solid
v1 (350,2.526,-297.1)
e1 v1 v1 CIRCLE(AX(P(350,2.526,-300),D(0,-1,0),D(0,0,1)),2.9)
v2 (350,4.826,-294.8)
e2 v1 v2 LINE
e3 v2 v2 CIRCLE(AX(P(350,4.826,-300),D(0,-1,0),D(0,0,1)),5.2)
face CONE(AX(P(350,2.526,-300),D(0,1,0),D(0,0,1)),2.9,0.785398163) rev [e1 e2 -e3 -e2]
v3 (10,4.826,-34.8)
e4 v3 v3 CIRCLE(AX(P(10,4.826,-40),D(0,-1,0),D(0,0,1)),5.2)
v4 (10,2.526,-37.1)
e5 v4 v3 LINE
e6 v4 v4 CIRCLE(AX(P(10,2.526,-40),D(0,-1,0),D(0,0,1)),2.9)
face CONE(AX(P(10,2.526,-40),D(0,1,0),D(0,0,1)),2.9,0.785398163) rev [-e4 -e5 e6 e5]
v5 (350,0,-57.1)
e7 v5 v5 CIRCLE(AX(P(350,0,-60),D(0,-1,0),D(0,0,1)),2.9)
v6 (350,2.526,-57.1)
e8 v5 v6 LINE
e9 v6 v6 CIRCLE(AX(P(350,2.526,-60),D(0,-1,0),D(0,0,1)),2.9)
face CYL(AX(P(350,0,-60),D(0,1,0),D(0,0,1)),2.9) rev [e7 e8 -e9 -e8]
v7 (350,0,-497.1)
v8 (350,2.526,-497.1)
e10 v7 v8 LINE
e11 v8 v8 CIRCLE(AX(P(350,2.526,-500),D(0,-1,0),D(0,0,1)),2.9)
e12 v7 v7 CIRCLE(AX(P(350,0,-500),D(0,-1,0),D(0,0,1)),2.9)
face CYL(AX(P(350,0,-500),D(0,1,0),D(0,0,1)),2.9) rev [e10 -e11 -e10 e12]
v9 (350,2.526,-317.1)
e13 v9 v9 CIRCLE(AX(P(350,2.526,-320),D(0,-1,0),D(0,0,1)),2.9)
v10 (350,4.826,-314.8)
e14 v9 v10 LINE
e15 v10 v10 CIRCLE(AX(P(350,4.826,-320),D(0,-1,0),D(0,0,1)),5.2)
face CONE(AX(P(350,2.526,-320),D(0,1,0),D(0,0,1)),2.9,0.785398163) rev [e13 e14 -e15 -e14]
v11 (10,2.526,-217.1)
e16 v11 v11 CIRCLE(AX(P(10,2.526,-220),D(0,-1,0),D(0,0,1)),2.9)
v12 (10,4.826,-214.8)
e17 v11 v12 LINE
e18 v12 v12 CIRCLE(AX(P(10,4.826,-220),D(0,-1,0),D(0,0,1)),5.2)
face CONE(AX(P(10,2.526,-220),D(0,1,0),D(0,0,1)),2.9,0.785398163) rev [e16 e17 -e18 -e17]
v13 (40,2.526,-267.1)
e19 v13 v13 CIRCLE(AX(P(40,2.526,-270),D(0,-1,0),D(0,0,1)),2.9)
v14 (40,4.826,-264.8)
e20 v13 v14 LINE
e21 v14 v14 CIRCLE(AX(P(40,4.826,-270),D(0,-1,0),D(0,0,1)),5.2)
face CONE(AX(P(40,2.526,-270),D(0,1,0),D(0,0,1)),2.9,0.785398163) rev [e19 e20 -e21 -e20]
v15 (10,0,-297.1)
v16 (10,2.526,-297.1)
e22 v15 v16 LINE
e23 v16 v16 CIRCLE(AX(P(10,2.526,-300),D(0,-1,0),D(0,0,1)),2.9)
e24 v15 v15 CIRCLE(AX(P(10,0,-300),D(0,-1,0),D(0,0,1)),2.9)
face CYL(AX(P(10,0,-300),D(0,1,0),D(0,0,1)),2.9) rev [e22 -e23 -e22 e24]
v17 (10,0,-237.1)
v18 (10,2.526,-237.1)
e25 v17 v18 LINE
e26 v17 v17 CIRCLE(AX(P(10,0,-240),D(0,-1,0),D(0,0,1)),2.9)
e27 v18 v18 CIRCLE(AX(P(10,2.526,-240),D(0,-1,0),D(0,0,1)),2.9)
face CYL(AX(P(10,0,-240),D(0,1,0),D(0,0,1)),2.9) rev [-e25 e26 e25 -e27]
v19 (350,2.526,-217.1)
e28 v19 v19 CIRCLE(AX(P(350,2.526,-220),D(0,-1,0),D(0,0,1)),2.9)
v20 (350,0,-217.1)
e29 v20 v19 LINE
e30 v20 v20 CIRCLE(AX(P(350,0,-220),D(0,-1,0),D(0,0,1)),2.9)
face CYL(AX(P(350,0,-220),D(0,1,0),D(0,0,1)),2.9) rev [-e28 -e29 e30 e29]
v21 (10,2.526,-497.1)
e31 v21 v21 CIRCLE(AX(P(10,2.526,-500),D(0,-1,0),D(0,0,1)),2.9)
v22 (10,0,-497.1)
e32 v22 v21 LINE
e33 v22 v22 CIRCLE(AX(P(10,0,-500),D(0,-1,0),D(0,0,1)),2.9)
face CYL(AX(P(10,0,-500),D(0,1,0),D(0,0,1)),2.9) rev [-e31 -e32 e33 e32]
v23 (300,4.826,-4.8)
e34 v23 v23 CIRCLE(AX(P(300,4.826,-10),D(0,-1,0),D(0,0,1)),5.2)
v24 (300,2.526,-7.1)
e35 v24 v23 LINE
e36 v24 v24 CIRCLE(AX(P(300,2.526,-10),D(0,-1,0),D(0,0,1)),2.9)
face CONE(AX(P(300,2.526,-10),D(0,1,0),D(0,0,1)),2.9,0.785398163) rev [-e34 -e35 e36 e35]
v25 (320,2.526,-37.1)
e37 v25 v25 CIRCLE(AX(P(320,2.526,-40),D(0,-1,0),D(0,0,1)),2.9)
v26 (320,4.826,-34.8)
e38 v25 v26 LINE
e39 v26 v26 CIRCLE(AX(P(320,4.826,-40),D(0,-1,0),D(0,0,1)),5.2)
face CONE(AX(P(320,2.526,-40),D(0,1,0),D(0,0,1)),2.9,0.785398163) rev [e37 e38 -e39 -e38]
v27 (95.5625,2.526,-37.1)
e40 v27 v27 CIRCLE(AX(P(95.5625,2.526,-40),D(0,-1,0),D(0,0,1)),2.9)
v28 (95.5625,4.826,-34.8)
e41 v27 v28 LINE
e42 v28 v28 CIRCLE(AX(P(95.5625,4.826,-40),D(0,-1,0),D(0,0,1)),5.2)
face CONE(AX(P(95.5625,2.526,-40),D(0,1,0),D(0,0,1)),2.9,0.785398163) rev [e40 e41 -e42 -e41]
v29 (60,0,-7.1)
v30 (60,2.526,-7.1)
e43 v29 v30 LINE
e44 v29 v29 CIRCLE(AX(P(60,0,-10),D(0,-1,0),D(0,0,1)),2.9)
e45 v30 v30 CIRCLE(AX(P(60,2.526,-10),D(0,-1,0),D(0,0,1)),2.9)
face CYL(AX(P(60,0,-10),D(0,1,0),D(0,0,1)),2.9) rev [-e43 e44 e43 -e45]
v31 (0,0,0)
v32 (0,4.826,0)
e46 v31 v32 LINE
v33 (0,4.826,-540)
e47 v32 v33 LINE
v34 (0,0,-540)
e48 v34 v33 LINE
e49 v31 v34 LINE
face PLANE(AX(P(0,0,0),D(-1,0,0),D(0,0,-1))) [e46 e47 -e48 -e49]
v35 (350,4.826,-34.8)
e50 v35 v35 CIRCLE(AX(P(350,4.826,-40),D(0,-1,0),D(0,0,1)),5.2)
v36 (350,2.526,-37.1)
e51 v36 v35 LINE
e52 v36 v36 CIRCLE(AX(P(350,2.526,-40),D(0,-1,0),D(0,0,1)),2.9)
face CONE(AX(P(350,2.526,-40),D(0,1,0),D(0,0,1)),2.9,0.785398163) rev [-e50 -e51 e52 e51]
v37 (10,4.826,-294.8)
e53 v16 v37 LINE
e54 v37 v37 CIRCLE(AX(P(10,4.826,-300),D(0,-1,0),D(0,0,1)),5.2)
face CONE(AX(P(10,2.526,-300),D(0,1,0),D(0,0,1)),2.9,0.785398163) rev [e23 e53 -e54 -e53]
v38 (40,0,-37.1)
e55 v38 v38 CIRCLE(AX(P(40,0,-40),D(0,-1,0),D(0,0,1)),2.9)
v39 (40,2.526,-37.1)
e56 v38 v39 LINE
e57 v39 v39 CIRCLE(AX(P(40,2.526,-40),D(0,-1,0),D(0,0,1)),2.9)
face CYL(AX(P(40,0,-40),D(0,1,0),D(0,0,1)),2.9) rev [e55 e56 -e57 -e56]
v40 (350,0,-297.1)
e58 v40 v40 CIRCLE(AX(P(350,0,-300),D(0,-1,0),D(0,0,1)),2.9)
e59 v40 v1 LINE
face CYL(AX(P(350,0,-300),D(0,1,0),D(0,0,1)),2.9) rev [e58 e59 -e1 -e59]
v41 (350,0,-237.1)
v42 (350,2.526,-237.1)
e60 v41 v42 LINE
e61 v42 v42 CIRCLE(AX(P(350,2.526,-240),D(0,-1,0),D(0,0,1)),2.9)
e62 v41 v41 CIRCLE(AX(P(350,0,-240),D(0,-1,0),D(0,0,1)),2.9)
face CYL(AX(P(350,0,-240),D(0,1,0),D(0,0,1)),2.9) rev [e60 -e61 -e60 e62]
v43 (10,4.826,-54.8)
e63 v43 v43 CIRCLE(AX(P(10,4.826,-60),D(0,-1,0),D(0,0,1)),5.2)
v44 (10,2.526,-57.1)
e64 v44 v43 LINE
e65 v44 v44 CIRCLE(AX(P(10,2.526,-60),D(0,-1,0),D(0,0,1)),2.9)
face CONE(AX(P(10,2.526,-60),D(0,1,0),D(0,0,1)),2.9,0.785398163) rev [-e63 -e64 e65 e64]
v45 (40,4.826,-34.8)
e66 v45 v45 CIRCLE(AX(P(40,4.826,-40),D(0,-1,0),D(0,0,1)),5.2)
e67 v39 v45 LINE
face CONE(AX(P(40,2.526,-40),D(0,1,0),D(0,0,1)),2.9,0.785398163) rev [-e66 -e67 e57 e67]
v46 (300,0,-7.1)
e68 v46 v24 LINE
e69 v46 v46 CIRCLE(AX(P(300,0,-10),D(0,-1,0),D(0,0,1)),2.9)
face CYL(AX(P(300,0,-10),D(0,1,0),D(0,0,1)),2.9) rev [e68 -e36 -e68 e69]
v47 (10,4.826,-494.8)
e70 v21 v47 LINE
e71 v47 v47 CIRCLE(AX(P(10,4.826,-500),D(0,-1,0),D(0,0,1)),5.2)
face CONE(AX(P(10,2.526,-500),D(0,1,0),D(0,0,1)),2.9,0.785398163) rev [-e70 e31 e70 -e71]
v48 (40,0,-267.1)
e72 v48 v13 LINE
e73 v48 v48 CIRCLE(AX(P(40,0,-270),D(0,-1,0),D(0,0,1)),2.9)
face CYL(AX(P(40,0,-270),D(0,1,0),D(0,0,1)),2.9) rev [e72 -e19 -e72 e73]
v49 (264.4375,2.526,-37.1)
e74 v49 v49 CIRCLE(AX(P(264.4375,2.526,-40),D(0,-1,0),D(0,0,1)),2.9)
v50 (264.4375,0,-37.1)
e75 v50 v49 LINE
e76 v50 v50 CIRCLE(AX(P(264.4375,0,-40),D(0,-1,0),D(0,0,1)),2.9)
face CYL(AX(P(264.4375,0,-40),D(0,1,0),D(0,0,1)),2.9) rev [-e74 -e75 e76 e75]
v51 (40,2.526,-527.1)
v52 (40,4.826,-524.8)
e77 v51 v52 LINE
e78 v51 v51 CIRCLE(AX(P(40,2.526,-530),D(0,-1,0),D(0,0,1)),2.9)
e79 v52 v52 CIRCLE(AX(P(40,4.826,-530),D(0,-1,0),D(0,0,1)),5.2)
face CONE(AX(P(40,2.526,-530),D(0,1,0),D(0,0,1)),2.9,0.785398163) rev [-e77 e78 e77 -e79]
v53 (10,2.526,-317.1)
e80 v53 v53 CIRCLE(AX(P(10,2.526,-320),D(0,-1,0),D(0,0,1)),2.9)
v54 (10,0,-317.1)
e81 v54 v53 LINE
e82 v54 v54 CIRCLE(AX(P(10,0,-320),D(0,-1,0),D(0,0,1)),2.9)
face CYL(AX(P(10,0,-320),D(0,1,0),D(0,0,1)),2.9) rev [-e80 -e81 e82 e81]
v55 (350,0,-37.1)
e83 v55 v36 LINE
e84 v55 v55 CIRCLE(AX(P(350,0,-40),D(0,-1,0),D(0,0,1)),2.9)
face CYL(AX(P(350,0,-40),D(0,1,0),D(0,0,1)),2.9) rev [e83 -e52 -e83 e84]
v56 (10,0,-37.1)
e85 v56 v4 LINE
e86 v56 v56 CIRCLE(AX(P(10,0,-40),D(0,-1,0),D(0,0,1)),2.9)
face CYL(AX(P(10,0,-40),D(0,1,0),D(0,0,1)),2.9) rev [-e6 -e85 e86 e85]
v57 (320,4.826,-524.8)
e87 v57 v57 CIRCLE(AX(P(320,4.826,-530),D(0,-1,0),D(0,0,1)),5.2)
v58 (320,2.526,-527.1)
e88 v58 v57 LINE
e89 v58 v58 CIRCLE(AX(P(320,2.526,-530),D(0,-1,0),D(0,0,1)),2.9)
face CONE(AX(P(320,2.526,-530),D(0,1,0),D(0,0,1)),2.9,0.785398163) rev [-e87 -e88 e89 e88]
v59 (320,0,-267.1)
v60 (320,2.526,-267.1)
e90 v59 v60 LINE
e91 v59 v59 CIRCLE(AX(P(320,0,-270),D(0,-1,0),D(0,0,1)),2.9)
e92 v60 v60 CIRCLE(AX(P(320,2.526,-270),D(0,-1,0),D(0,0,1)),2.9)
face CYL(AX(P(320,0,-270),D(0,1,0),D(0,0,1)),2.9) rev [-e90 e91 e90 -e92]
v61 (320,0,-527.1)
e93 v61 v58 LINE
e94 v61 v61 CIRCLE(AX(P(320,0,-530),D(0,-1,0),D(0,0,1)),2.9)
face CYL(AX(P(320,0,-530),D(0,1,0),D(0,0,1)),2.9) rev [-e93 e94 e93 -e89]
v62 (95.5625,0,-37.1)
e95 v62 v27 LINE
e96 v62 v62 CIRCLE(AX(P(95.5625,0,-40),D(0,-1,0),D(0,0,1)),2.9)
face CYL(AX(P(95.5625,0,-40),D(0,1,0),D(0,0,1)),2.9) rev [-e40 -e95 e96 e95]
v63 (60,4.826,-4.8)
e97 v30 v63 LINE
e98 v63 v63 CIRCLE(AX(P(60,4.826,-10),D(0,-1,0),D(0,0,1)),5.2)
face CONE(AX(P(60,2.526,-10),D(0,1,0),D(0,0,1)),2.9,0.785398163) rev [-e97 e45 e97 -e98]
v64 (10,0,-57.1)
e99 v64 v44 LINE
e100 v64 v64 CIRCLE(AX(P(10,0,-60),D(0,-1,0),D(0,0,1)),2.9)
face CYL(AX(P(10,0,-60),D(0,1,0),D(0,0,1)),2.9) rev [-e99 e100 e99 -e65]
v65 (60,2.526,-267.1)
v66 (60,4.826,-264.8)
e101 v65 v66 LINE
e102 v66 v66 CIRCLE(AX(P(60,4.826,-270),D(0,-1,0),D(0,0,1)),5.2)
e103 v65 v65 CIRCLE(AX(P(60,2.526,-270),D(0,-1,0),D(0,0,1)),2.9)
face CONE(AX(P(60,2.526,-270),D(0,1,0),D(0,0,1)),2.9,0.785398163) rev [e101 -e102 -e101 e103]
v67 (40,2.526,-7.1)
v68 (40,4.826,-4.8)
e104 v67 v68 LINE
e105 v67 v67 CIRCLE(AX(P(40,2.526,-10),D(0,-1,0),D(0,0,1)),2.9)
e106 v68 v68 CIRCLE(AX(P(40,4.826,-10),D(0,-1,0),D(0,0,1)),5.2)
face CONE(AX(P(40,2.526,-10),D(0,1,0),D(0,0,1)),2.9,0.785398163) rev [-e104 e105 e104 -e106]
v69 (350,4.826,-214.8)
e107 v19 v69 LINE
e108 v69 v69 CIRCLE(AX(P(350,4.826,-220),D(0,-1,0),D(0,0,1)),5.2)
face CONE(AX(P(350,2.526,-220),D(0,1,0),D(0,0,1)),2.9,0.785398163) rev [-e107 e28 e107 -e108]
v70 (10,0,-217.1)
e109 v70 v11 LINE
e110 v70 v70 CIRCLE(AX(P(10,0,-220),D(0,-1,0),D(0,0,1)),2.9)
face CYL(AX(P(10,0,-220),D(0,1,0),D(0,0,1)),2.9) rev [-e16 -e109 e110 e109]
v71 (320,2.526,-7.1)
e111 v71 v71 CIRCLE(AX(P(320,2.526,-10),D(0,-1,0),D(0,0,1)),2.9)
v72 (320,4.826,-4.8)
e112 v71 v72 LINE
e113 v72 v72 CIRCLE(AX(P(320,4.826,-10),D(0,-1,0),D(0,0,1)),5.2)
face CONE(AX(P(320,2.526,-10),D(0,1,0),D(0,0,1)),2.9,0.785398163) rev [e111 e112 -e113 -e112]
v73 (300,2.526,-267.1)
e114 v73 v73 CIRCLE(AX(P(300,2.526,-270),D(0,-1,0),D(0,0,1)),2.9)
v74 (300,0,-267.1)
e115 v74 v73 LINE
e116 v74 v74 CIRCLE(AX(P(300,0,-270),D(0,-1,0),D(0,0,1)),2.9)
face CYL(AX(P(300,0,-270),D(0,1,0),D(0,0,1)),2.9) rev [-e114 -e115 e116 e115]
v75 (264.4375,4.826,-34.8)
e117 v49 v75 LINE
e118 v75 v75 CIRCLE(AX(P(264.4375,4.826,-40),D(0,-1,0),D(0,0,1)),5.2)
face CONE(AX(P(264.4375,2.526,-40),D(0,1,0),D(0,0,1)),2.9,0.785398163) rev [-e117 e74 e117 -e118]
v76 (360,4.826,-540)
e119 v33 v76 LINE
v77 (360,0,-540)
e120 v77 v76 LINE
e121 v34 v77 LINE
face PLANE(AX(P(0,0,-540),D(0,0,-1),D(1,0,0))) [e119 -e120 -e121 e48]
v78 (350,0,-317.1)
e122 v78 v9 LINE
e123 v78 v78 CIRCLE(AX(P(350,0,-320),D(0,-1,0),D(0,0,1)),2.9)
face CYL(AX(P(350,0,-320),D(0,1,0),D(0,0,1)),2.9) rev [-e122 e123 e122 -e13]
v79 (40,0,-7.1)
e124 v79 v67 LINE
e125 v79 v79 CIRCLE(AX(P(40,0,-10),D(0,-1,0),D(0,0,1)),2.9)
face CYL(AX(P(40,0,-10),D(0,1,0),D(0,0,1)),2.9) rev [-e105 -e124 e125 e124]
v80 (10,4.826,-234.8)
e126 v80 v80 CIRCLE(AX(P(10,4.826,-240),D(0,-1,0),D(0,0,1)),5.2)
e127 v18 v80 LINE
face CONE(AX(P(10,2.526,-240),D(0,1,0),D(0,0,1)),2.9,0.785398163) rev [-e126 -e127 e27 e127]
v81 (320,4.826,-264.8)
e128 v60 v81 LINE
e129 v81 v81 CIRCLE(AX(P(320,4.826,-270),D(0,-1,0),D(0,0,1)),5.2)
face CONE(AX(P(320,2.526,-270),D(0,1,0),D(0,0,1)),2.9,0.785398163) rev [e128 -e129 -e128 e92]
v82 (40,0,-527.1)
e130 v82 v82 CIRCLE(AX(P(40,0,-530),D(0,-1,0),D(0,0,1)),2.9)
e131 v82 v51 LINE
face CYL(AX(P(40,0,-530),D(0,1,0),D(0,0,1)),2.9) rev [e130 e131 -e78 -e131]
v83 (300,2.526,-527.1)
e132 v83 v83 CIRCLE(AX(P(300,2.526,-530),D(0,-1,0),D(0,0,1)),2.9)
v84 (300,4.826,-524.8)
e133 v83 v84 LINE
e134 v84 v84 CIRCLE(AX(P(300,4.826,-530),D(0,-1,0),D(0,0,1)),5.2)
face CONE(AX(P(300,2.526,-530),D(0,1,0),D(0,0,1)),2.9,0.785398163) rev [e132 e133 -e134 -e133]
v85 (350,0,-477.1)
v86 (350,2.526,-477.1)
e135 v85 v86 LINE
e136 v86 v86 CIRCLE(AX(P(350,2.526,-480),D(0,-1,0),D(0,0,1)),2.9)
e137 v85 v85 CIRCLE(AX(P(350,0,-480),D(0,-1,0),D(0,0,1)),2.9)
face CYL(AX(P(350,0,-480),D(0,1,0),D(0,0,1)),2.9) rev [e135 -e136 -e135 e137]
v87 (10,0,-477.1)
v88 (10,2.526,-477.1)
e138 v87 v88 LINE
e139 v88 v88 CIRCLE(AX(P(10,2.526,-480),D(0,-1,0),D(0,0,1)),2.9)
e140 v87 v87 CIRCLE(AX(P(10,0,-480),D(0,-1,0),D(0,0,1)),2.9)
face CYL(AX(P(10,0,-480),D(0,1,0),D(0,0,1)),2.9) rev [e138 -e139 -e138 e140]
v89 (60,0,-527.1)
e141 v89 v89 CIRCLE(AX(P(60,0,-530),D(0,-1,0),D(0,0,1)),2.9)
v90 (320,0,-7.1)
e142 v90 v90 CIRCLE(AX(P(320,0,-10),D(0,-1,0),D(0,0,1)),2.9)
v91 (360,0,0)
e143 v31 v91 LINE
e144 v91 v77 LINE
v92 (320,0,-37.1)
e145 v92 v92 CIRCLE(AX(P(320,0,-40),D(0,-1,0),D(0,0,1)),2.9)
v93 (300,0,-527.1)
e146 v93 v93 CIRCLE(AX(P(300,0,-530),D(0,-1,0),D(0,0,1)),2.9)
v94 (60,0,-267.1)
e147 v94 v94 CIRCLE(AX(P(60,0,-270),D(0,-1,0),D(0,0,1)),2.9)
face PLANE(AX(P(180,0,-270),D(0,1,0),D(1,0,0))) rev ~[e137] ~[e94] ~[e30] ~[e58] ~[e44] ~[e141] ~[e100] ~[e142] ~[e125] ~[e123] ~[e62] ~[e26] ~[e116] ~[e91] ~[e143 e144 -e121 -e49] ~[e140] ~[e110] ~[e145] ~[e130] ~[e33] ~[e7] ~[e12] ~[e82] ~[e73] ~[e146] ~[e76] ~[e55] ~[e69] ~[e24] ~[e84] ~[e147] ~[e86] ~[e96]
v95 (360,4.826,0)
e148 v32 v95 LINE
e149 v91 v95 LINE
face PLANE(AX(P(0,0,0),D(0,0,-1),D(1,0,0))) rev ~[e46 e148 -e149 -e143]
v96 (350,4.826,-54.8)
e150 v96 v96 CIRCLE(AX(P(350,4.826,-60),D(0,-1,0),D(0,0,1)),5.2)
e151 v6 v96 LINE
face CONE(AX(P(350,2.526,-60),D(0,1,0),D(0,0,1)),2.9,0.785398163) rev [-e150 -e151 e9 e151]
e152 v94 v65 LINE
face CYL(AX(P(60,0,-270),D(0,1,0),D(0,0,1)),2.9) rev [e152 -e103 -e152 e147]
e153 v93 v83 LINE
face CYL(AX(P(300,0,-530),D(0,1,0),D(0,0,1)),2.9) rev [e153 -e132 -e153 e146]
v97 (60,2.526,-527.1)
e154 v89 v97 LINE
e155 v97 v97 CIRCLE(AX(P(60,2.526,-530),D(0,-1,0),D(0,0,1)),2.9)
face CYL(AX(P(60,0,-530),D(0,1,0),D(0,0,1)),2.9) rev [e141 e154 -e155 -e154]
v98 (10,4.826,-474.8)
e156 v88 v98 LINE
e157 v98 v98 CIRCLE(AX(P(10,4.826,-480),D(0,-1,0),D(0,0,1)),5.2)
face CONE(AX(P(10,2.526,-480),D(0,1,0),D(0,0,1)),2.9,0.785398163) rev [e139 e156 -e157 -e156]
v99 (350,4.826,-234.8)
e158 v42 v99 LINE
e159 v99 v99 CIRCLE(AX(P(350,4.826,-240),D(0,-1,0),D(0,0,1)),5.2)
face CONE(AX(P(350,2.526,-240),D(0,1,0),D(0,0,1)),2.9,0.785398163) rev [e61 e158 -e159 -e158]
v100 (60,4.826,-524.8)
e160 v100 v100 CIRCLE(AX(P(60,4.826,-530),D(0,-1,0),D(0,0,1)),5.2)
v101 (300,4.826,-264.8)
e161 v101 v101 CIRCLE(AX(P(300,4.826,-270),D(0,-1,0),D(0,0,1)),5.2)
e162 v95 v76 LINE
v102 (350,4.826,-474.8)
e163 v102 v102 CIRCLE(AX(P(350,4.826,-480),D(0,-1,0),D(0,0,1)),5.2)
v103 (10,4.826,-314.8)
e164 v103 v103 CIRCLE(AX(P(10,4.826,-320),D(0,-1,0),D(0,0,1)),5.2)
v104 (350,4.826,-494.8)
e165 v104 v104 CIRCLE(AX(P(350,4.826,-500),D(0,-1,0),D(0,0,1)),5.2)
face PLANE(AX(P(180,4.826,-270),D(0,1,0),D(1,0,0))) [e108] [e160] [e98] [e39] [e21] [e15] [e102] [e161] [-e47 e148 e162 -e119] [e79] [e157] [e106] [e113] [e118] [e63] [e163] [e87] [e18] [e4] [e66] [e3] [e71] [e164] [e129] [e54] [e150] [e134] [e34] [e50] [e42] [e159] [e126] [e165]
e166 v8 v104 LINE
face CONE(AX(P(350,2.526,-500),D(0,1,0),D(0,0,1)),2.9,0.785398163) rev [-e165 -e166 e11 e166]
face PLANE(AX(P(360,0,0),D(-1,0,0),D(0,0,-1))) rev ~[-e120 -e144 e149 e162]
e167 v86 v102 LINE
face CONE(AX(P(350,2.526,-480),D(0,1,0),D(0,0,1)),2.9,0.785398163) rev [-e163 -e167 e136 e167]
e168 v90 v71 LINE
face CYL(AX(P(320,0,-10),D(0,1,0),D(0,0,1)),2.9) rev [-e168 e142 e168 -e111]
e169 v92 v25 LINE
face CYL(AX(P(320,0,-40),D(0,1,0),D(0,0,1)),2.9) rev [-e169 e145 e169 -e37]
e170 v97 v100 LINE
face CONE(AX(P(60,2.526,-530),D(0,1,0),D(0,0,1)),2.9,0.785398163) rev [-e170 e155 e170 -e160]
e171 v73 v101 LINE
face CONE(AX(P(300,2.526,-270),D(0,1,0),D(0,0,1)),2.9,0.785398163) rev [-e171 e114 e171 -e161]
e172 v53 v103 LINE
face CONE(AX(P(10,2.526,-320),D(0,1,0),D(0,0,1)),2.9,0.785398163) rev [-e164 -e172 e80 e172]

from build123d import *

# Parameters (mm, degrees)
SKETCH1_W                                      = 360
SKETCH1_H                                      = 540
BOSS_EXTRUDE1_DEPTH                            = 4.826
CSK_FOR_M5_FLAT_HEAD_MACHINE_SCREW1_AT_2_COUNT = 2
CSK_FOR_M5_FLAT_HEAD_MACHINE_SCREW1_AT_2_PITCH = 55.5625
CSK_FOR_M5_FLAT_HEAD_MACHINE_SCREW1_AT_3_COUNT = 2
CSK_FOR_M5_FLAT_HEAD_MACHINE_SCREW1_AT_3_PITCH = 224.4375
CSK_FOR_M5_FLAT_HEAD_MACHINE_SCREW1_AT_4_COUNT = 2
CSK_FOR_M5_FLAT_HEAD_MACHINE_SCREW1_AT_4_PITCH = 280
CSK_FOR_M5_FLAT_HEAD_MACHINE_SCREW2_AT_2_COUNT = 2
CSK_FOR_M5_FLAT_HEAD_MACHINE_SCREW2_AT_2_PITCH = 42.426406871
CSK_FOR_M5_FLAT_HEAD_MACHINE_SCREW2_AT_3_COUNT = 2
CSK_FOR_M5_FLAT_HEAD_MACHINE_SCREW2_AT_3_PITCH = 280
CSK_FOR_M5_FLAT_HEAD_MACHINE_SCREW2_AT_4_COUNT = 2
CSK_FOR_M5_FLAT_HEAD_MACHINE_SCREW2_AT_4_PITCH = 311.448230048
CSK_FOR_M5_FLAT_HEAD_MACHINE_SCREW2_AT_5_COUNT = 2
CSK_FOR_M5_FLAT_HEAD_MACHINE_SCREW2_AT_5_PITCH = 231.948270095
CSK_FOR_M5_FLAT_HEAD_MACHINE_SCREW2_AT_6_COUNT = 2
CSK_FOR_M5_FLAT_HEAD_MACHINE_SCREW2_AT_6_PITCH = 260
CSK_FOR_M5_FLAT_HEAD_MACHINE_SCREW2_AT_7_COUNT = 2
CSK_FOR_M5_FLAT_HEAD_MACHINE_SCREW2_AT_7_PITCH = 291.547594742
CSK_FOR_M5_FLAT_HEAD_MACHINE_SCREW2_AT_8_COUNT = 2
CSK_FOR_M5_FLAT_HEAD_MACHINE_SCREW2_AT_8_PITCH = 386.005181312
CSK_FOR_M5_FLAT_HEAD_MACHINE_SCREW2_AT_9_COUNT = 2
CSK_FOR_M5_FLAT_HEAD_MACHINE_SCREW2_AT_9_PITCH = 382.099463491
CSK_FOR_M5_FLAT_HEAD_MACHINE_SCREW2_AT_1_COUNT = 2
CSK_FOR_M5_FLAT_HEAD_MACHINE_SCREW2_AT_1_PITCH = 424.499705536
CSK_FOR_M5_FLAT_HEAD_MACHINE_SCREW2_2_COUNT    = 2
CSK_FOR_M5_FLAT_HEAD_MACHINE_SCREW2_2_PITCH    = 490.917508345
CSK_FOR_M5_FLAT_HEAD_MACHINE_SCREW2_3_COUNT    = 2
CSK_FOR_M5_FLAT_HEAD_MACHINE_SCREW2_3_PITCH    = 520
CSK_FOR_M5_FLAT_HEAD_MACHINE_SCREW2_4_COUNT    = 2
CSK_FOR_M5_FLAT_HEAD_MACHINE_SCREW2_4_PITCH    = 590.592922409
CSK_FOR_M5_FLAT_HEAD_MACHINE_SCREW2_5_COUNT    = 2
CSK_FOR_M5_FLAT_HEAD_MACHINE_SCREW2_5_PITCH    = 579.827560573
CSK_FOR_M5_FLAT_HEAD_MACHINE_SCREW2_6_COUNT    = 2
CSK_FOR_M5_FLAT_HEAD_MACHINE_SCREW2_6_PITCH    = 470.956473573
CSK_FOR_M5_FLAT_HEAD_MACHINE_SCREW2_7_COUNT    = 2
CSK_FOR_M5_FLAT_HEAD_MACHINE_SCREW2_7_PITCH    = 520.38447325
CSK_FOR_M5_FLAT_HEAD_MACHINE_SCREW2_8_COUNT    = 2
CSK_FOR_M5_FLAT_HEAD_MACHINE_SCREW2_8_PITCH    = 581.37767415
CSK_FOR_M5_FLAT_HEAD_MACHINE_SCREW2_9_COUNT    = 2
CSK_FOR_M5_FLAT_HEAD_MACHINE_SCREW2_9_PITCH    = 563.02753041
CSK_FOR_M5_FLAT_HEAD_MACHINE_SCREW2_10_COUNT   = 2
CSK_FOR_M5_FLAT_HEAD_MACHINE_SCREW2_10_PITCH   = 438.406204336
CSK_FOR_M5_FLAT_HEAD_MACHINE_SCREW2_11_COUNT   = 2
CSK_FOR_M5_FLAT_HEAD_MACHINE_SCREW2_11_PITCH   = 367.695526217
CSK_FOR_M5_FLAT_HEAD_MACHINE_SCREW2_12_COUNT   = 2
CSK_FOR_M5_FLAT_HEAD_MACHINE_SCREW2_12_PITCH   = 374.432904537
CSK_FOR_M5_FLAT_HEAD_MACHINE_SCREW2_13_COUNT   = 2
CSK_FOR_M5_FLAT_HEAD_MACHINE_SCREW2_13_PITCH   = 212.132034356
CSK_FOR_M5_FLAT_HEAD_MACHINE_SCREW2_14_COUNT   = 2
CSK_FOR_M5_FLAT_HEAD_MACHINE_SCREW2_14_PITCH   = 260.768096208
CSK_FOR_M5_FLAT_HEAD_MACHINE_SCREW2_15_COUNT   = 2
CSK_FOR_M5_FLAT_HEAD_MACHINE_SCREW2_15_PITCH   = 311.448230048
CSK_FOR_M5_FLAT_HEAD_MACHINE_SCREW2_16_COUNT   = 2
CSK_FOR_M5_FLAT_HEAD_MACHINE_SCREW2_16_PITCH   = 58.309518948
CSK_FOR_M5_FLAT_HEAD_MACHINE_SCREW2_17_COUNT   = 2
CSK_FOR_M5_FLAT_HEAD_MACHINE_SCREW2_17_PITCH   = 20
CSK_FOR_M5_FLAT_HEAD_MACHINE_SCREW2_18_COUNT   = 2
CSK_FOR_M5_FLAT_HEAD_MACHINE_SCREW2_18_PITCH   = 260
CSK_FOR_M5_FLAT_HEAD_MACHINE_SCREW2_19_COUNT   = 2
CSK_FOR_M5_FLAT_HEAD_MACHINE_SCREW2_19_PITCH   = 314.006369362


with BuildPart() as part:
    # Sketch1 → Boss-Extrude1 (new body)
    with BuildSketch(Plane(origin=(0, 0, 0), x_dir=(1, 0, 0), z_dir=(0, 1, 0))):
        with Locations((180, 270)):
            Rectangle(SKETCH1_W, SKETCH1_H)
    extrude(amount=BOSS_EXTRUDE1_DEPTH)

    # Sketch16 → CSK for M5 Flat Head Machine Screw1 (revolve, cut)
    with BuildSketch(Plane(origin=(40, 4.826, -40), x_dir=(0, 0, 1), z_dir=(1, 0, 0))):
        Polygon((0, 0), (0, 4.826), (2.9, 4.826), (2.9, 2.3), (5.2, 0), align=None)
    csk_for_m5_flat_head_machine_screw1 = revolve(axis=Axis((40, 11.176, -40), (0, -1, 0)), mode=Mode.SUBTRACT)

    # CSK for M5 Flat Head Machine Screw1 at 2: CSK for M5 Flat Head Machine Screw1 ×2
    with Locations(*[(i * CSK_FOR_M5_FLAT_HEAD_MACHINE_SCREW1_AT_2_PITCH, 0, 0) for i in range(1, CSK_FOR_M5_FLAT_HEAD_MACHINE_SCREW1_AT_2_COUNT)]):
        add(csk_for_m5_flat_head_machine_screw1, mode=Mode.SUBTRACT)

    # CSK for M5 Flat Head Machine Screw1 at 3: CSK for M5 Flat Head Machine Screw1 ×2
    with Locations(*[(i * CSK_FOR_M5_FLAT_HEAD_MACHINE_SCREW1_AT_3_PITCH, 0, 0) for i in range(1, CSK_FOR_M5_FLAT_HEAD_MACHINE_SCREW1_AT_3_COUNT)]):
        add(csk_for_m5_flat_head_machine_screw1, mode=Mode.SUBTRACT)

    # CSK for M5 Flat Head Machine Screw1 at 4: CSK for M5 Flat Head Machine Screw1 ×2
    with Locations(*[(i * CSK_FOR_M5_FLAT_HEAD_MACHINE_SCREW1_AT_4_PITCH, 0, 0) for i in range(1, CSK_FOR_M5_FLAT_HEAD_MACHINE_SCREW1_AT_4_COUNT)]):
        add(csk_for_m5_flat_head_machine_screw1, mode=Mode.SUBTRACT)

    # Sketch20 → CSK for M5 Flat Head Machine Screw2 (revolve, cut)
    with BuildSketch(Plane(origin=(40, 4.826, -10), x_dir=(0, 0, 1), z_dir=(1, 0, 0))):
        Polygon((0, 0), (0, 4.826), (2.9, 4.826), (2.9, 2.3), (5.2, 0), align=None)
    csk_for_m5_flat_head_machine_screw2 = revolve(axis=Axis((40, 11.176, -10), (0, -1, 0)), mode=Mode.SUBTRACT)

    # CSK for M5 Flat Head Machine Screw2 at 2: CSK for M5 Flat Head Machine Screw2 ×2
    with Locations(*[Vector(-0.7071067811865477, 0, -0.7071067811865475) * (i * CSK_FOR_M5_FLAT_HEAD_MACHINE_SCREW2_AT_2_PITCH) for i in range(1, CSK_FOR_M5_FLAT_HEAD_MACHINE_SCREW2_AT_2_COUNT)]):
        add(csk_for_m5_flat_head_machine_screw2, mode=Mode.SUBTRACT)

    # CSK for M5 Flat Head Machine Screw2 at 3: CSK for M5 Flat Head Machine Screw2 ×2
    with Locations(*[(i * CSK_FOR_M5_FLAT_HEAD_MACHINE_SCREW2_AT_3_PITCH, 0, 0) for i in range(1, CSK_FOR_M5_FLAT_HEAD_MACHINE_SCREW2_AT_3_COUNT)]):
        add(csk_for_m5_flat_head_machine_screw2, mode=Mode.SUBTRACT)

    # CSK for M5 Flat Head Machine Screw2 at 4: CSK for M5 Flat Head Machine Screw2 ×2
    with Locations(*[Vector(0.9953500135553002, 0, -0.09632419486019045) * (i * CSK_FOR_M5_FLAT_HEAD_MACHINE_SCREW2_AT_4_PITCH) for i in range(1, CSK_FOR_M5_FLAT_HEAD_MACHINE_SCREW2_AT_4_COUNT)]):
        add(csk_for_m5_flat_head_machine_screw2, mode=Mode.SUBTRACT)

    # CSK for M5 Flat Head Machine Screw2 at 5: CSK for M5 Flat Head Machine Screw2 ×2
    with Locations(*[Vector(-0.12933918406776806, 0, -0.9916004111862218) * (i * CSK_FOR_M5_FLAT_HEAD_MACHINE_SCREW2_AT_5_PITCH) for i in range(1, CSK_FOR_M5_FLAT_HEAD_MACHINE_SCREW2_AT_5_COUNT)]):
        add(csk_for_m5_flat_head_machine_screw2, mode=Mode.SUBTRACT)

    # CSK for M5 Flat Head Machine Screw2 at 6: CSK for M5 Flat Head Machine Screw2 ×2
    with Locations(*[(0, 0, -i * CSK_FOR_M5_FLAT_HEAD_MACHINE_SCREW2_AT_6_PITCH) for i in range(1, CSK_FOR_M5_FLAT_HEAD_MACHINE_SCREW2_AT_6_COUNT)]):
        add(csk_for_m5_flat_head_machine_screw2, mode=Mode.SUBTRACT)

    # CSK for M5 Flat Head Machine Screw2 at 7: CSK for M5 Flat Head Machine Screw2 ×2
    with Locations(*[Vector(-0.10289915108550529, 0, -0.9946917938265514) * (i * CSK_FOR_M5_FLAT_HEAD_MACHINE_SCREW2_AT_7_PITCH) for i in range(1, CSK_FOR_M5_FLAT_HEAD_MACHINE_SCREW2_AT_7_COUNT)]):
        add(csk_for_m5_flat_head_machine_screw2, mode=Mode.SUBTRACT)

    # CSK for M5 Flat Head Machine Screw2 at 8: CSK for M5 Flat Head Machine Screw2 ×2
    with Locations(*[Vector(0.8030980282338017, 0, -0.5958469241734659) * (i * CSK_FOR_M5_FLAT_HEAD_MACHINE_SCREW2_AT_8_PITCH) for i in range(1, CSK_FOR_M5_FLAT_HEAD_MACHINE_SCREW2_AT_8_COUNT)]):
        add(csk_for_m5_flat_head_machine_screw2, mode=Mode.SUBTRACT)

    # CSK for M5 Flat Head Machine Screw2 at 9: CSK for M5 Flat Head Machine Screw2 ×2
    with Locations(*[Vector(0.7327934916262991, 0, -0.680451099367278) * (i * CSK_FOR_M5_FLAT_HEAD_MACHINE_SCREW2_AT_9_PITCH) for i in range(1, CSK_FOR_M5_FLAT_HEAD_MACHINE_SCREW2_AT_9_COUNT)]):
        add(csk_for_m5_flat_head_machine_screw2, mode=Mode.SUBTRACT)

    # CSK for M5 Flat Head Machine Screw2 at 1: CSK for M5 Flat Head Machine Screw2 ×2
    with Locations(*[Vector(0.7302714135188955, 0, -0.683157128775741) * (i * CSK_FOR_M5_FLAT_HEAD_MACHINE_SCREW2_AT_1_PITCH) for i in range(1, CSK_FOR_M5_FLAT_HEAD_MACHINE_SCREW2_AT_1_COUNT)]):
        add(csk_for_m5_flat_head_machine_screw2, mode=Mode.SUBTRACT)

    # CSK for M5 Flat Head Machine Screw2  2: CSK for M5 Flat Head Machine Screw2 ×2
    with Locations(*[Vector(-0.0611100632795033, 0, -0.9981310335652204) * (i * CSK_FOR_M5_FLAT_HEAD_MACHINE_SCREW2_2_PITCH) for i in range(1, CSK_FOR_M5_FLAT_HEAD_MACHINE_SCREW2_2_COUNT)]):
        add(csk_for_m5_flat_head_machine_screw2, mode=Mode.SUBTRACT)

    # CSK for M5 Flat Head Machine Screw2  3: CSK for M5 Flat Head Machine Screw2 ×2
    with Locations(*[(0, 0, -i * CSK_FOR_M5_FLAT_HEAD_MACHINE_SCREW2_3_PITCH) for i in range(1, CSK_FOR_M5_FLAT_HEAD_MACHINE_SCREW2_3_COUNT)]):
        add(csk_for_m5_flat_head_machine_screw2, mode=Mode.SUBTRACT)

    # CSK for M5 Flat Head Machine Screw2  4: CSK for M5 Flat Head Machine Screw2 ×2
    with Locations(*[Vector(0.4740998230350174, 0, -0.8804710999221753) * (i * CSK_FOR_M5_FLAT_HEAD_MACHINE_SCREW2_4_PITCH) for i in range(1, CSK_FOR_M5_FLAT_HEAD_MACHINE_SCREW2_4_COUNT)]):
        add(csk_for_m5_flat_head_machine_screw2, mode=Mode.SUBTRACT)

    # CSK for M5 Flat Head Machine Screw2  5: CSK for M5 Flat Head Machine Screw2 ×2
    with Locations(*[Vector(0.5346417126044627, 0, -0.8450788360522153) * (i * CSK_FOR_M5_FLAT_HEAD_MACHINE_SCREW2_5_PITCH) for i in range(1, CSK_FOR_M5_FLAT_HEAD_MACHINE_SCREW2_5_COUNT)]):
        add(csk_for_m5_flat_head_machine_screw2, mode=Mode.SUBTRACT)

    # CSK for M5 Flat Head Machine Screw2  6: CSK for M5 Flat Head Machine Screw2 ×2
    with Locations(*[Vector(-0.06370015422533803, 0, -0.9979690828636267) * (i * CSK_FOR_M5_FLAT_HEAD_MACHINE_SCREW2_6_PITCH) for i in range(1, CSK_FOR_M5_FLAT_HEAD_MACHINE_SCREW2_6_COUNT)]):
        add(csk_for_m5_flat_head_machine_screw2, mode=Mode.SUBTRACT)

    # CSK for M5 Flat Head Machine Screw2  7: CSK for M5 Flat Head Machine Screw2 ×2
    with Locations(*[Vector(0.03843312210120418, 0, -0.9992611746313144) * (i * CSK_FOR_M5_FLAT_HEAD_MACHINE_SCREW2_7_PITCH) for i in range(1, CSK_FOR_M5_FLAT_HEAD_MACHINE_SCREW2_7_COUNT)]):
        add(csk_for_m5_flat_head_machine_screw2, mode=Mode.SUBTRACT)

    # CSK for M5 Flat Head Machine Screw2  8: CSK for M5 Flat Head Machine Screw2 ×2
    with Locations(*[Vector(0.4472135954999574, 0, -0.8944271909999162) * (i * CSK_FOR_M5_FLAT_HEAD_MACHINE_SCREW2_8_PITCH) for i in range(1, CSK_FOR_M5_FLAT_HEAD_MACHINE_SCREW2_8_COUNT)]):
        add(csk_for_m5_flat_head_machine_screw2, mode=Mode.SUBTRACT)

    # CSK for M5 Flat Head Machine Screw2  9: CSK for M5 Flat Head Machine Screw2 ×2
    with Locations(*[Vector(0.5505947458271752, 0, -0.8347726791573312) * (i * CSK_FOR_M5_FLAT_HEAD_MACHINE_SCREW2_9_PITCH) for i in range(1, CSK_FOR_M5_FLAT_HEAD_MACHINE_SCREW2_9_COUNT)]):
        add(csk_for_m5_flat_head_machine_screw2, mode=Mode.SUBTRACT)

    # CSK for M5 Flat Head Machine Screw2  10: CSK for M5 Flat Head Machine Screw2 ×2
    with Locations(*[Vector(0.7071067811865475, 0, -0.7071067811865476) * (i * CSK_FOR_M5_FLAT_HEAD_MACHINE_SCREW2_10_PITCH) for i in range(1, CSK_FOR_M5_FLAT_HEAD_MACHINE_SCREW2_10_COUNT)]):
        add(csk_for_m5_flat_head_machine_screw2, mode=Mode.SUBTRACT)

    # CSK for M5 Flat Head Machine Screw2  11: CSK for M5 Flat Head Machine Screw2 ×2
    with Locations(*[Vector(0.7071067811865476, 0, -0.7071067811865476) * (i * CSK_FOR_M5_FLAT_HEAD_MACHINE_SCREW2_11_PITCH) for i in range(1, CSK_FOR_M5_FLAT_HEAD_MACHINE_SCREW2_11_COUNT)]):
        add(csk_for_m5_flat_head_machine_screw2, mode=Mode.SUBTRACT)

    # CSK for M5 Flat Head Machine Screw2  12: CSK for M5 Flat Head Machine Screw2 ×2
    with Locations(*[Vector(0.827918690488332, 0, -0.5608481451695152) * (i * CSK_FOR_M5_FLAT_HEAD_MACHINE_SCREW2_12_PITCH) for i in range(1, CSK_FOR_M5_FLAT_HEAD_MACHINE_SCREW2_12_COUNT)]):
        add(csk_for_m5_flat_head_machine_screw2, mode=Mode.SUBTRACT)

    # CSK for M5 Flat Head Machine Screw2  13: CSK for M5 Flat Head Machine Screw2 ×2
    with Locations(*[Vector(-0.14142135623730953, 0, -0.9899494936611666) * (i * CSK_FOR_M5_FLAT_HEAD_MACHINE_SCREW2_13_PITCH) for i in range(1, CSK_FOR_M5_FLAT_HEAD_MACHINE_SCREW2_13_COUNT)]):
        add(csk_for_m5_flat_head_machine_screw2, mode=Mode.SUBTRACT)

    # CSK for M5 Flat Head Machine Screw2  14: CSK for M5 Flat Head Machine Screw2 ×2
    with Locations(*[Vector(0.07669649888473705, 0, -0.9970544855015816) * (i * CSK_FOR_M5_FLAT_HEAD_MACHINE_SCREW2_14_PITCH) for i in range(1, CSK_FOR_M5_FLAT_HEAD_MACHINE_SCREW2_14_COUNT)]):
        add(csk_for_m5_flat_head_machine_screw2, mode=Mode.SUBTRACT)

    # CSK for M5 Flat Head Machine Screw2  15: CSK for M5 Flat Head Machine Screw2 ×2
    with Locations(*[Vector(-0.09632419486019039, 0, -0.9953500135553002) * (i * CSK_FOR_M5_FLAT_HEAD_MACHINE_SCREW2_15_PITCH) for i in range(1, CSK_FOR_M5_FLAT_HEAD_MACHINE_SCREW2_15_COUNT)]):
        add(csk_for_m5_flat_head_machine_screw2, mode=Mode.SUBTRACT)

    # CSK for M5 Flat Head Machine Screw2  16: CSK for M5 Flat Head Machine Screw2 ×2
    with Locations(*[Vector(-0.5144957554275267, 0, -0.8574929257125442) * (i * CSK_FOR_M5_FLAT_HEAD_MACHINE_SCREW2_16_PITCH) for i in range(1, CSK_FOR_M5_FLAT_HEAD_MACHINE_SCREW2_16_COUNT)]):
        add(csk_for_m5_flat_head_machine_screw2, mode=Mode.SUBTRACT)

    # CSK for M5 Flat Head Machine Screw2  17: CSK for M5 Flat Head Machine Screw2 ×2
    with Locations(*[(i * CSK_FOR_M5_FLAT_HEAD_MACHINE_SCREW2_17_PITCH, 0, 0) for i in range(1, CSK_FOR_M5_FLAT_HEAD_MACHINE_SCREW2_17_COUNT)]):
        add(csk_for_m5_flat_head_machine_screw2, mode=Mode.SUBTRACT)

    # CSK for M5 Flat Head Machine Screw2  18: CSK for M5 Flat Head Machine Screw2 ×2
    with Locations(*[(i * CSK_FOR_M5_FLAT_HEAD_MACHINE_SCREW2_18_PITCH, 0, 0) for i in range(1, CSK_FOR_M5_FLAT_HEAD_MACHINE_SCREW2_18_COUNT)]):
        add(csk_for_m5_flat_head_machine_screw2, mode=Mode.SUBTRACT)

    # CSK for M5 Flat Head Machine Screw2  19: CSK for M5 Flat Head Machine Screw2 ×2
    with Locations(*[Vector(0.9872411207126471, 0, -0.1592324388246205) * (i * CSK_FOR_M5_FLAT_HEAD_MACHINE_SCREW2_19_PITCH) for i in range(1, CSK_FOR_M5_FLAT_HEAD_MACHINE_SCREW2_19_COUNT)]):
        add(csk_for_m5_flat_head_machine_screw2, mode=Mode.SUBTRACT)


solid = part.part
